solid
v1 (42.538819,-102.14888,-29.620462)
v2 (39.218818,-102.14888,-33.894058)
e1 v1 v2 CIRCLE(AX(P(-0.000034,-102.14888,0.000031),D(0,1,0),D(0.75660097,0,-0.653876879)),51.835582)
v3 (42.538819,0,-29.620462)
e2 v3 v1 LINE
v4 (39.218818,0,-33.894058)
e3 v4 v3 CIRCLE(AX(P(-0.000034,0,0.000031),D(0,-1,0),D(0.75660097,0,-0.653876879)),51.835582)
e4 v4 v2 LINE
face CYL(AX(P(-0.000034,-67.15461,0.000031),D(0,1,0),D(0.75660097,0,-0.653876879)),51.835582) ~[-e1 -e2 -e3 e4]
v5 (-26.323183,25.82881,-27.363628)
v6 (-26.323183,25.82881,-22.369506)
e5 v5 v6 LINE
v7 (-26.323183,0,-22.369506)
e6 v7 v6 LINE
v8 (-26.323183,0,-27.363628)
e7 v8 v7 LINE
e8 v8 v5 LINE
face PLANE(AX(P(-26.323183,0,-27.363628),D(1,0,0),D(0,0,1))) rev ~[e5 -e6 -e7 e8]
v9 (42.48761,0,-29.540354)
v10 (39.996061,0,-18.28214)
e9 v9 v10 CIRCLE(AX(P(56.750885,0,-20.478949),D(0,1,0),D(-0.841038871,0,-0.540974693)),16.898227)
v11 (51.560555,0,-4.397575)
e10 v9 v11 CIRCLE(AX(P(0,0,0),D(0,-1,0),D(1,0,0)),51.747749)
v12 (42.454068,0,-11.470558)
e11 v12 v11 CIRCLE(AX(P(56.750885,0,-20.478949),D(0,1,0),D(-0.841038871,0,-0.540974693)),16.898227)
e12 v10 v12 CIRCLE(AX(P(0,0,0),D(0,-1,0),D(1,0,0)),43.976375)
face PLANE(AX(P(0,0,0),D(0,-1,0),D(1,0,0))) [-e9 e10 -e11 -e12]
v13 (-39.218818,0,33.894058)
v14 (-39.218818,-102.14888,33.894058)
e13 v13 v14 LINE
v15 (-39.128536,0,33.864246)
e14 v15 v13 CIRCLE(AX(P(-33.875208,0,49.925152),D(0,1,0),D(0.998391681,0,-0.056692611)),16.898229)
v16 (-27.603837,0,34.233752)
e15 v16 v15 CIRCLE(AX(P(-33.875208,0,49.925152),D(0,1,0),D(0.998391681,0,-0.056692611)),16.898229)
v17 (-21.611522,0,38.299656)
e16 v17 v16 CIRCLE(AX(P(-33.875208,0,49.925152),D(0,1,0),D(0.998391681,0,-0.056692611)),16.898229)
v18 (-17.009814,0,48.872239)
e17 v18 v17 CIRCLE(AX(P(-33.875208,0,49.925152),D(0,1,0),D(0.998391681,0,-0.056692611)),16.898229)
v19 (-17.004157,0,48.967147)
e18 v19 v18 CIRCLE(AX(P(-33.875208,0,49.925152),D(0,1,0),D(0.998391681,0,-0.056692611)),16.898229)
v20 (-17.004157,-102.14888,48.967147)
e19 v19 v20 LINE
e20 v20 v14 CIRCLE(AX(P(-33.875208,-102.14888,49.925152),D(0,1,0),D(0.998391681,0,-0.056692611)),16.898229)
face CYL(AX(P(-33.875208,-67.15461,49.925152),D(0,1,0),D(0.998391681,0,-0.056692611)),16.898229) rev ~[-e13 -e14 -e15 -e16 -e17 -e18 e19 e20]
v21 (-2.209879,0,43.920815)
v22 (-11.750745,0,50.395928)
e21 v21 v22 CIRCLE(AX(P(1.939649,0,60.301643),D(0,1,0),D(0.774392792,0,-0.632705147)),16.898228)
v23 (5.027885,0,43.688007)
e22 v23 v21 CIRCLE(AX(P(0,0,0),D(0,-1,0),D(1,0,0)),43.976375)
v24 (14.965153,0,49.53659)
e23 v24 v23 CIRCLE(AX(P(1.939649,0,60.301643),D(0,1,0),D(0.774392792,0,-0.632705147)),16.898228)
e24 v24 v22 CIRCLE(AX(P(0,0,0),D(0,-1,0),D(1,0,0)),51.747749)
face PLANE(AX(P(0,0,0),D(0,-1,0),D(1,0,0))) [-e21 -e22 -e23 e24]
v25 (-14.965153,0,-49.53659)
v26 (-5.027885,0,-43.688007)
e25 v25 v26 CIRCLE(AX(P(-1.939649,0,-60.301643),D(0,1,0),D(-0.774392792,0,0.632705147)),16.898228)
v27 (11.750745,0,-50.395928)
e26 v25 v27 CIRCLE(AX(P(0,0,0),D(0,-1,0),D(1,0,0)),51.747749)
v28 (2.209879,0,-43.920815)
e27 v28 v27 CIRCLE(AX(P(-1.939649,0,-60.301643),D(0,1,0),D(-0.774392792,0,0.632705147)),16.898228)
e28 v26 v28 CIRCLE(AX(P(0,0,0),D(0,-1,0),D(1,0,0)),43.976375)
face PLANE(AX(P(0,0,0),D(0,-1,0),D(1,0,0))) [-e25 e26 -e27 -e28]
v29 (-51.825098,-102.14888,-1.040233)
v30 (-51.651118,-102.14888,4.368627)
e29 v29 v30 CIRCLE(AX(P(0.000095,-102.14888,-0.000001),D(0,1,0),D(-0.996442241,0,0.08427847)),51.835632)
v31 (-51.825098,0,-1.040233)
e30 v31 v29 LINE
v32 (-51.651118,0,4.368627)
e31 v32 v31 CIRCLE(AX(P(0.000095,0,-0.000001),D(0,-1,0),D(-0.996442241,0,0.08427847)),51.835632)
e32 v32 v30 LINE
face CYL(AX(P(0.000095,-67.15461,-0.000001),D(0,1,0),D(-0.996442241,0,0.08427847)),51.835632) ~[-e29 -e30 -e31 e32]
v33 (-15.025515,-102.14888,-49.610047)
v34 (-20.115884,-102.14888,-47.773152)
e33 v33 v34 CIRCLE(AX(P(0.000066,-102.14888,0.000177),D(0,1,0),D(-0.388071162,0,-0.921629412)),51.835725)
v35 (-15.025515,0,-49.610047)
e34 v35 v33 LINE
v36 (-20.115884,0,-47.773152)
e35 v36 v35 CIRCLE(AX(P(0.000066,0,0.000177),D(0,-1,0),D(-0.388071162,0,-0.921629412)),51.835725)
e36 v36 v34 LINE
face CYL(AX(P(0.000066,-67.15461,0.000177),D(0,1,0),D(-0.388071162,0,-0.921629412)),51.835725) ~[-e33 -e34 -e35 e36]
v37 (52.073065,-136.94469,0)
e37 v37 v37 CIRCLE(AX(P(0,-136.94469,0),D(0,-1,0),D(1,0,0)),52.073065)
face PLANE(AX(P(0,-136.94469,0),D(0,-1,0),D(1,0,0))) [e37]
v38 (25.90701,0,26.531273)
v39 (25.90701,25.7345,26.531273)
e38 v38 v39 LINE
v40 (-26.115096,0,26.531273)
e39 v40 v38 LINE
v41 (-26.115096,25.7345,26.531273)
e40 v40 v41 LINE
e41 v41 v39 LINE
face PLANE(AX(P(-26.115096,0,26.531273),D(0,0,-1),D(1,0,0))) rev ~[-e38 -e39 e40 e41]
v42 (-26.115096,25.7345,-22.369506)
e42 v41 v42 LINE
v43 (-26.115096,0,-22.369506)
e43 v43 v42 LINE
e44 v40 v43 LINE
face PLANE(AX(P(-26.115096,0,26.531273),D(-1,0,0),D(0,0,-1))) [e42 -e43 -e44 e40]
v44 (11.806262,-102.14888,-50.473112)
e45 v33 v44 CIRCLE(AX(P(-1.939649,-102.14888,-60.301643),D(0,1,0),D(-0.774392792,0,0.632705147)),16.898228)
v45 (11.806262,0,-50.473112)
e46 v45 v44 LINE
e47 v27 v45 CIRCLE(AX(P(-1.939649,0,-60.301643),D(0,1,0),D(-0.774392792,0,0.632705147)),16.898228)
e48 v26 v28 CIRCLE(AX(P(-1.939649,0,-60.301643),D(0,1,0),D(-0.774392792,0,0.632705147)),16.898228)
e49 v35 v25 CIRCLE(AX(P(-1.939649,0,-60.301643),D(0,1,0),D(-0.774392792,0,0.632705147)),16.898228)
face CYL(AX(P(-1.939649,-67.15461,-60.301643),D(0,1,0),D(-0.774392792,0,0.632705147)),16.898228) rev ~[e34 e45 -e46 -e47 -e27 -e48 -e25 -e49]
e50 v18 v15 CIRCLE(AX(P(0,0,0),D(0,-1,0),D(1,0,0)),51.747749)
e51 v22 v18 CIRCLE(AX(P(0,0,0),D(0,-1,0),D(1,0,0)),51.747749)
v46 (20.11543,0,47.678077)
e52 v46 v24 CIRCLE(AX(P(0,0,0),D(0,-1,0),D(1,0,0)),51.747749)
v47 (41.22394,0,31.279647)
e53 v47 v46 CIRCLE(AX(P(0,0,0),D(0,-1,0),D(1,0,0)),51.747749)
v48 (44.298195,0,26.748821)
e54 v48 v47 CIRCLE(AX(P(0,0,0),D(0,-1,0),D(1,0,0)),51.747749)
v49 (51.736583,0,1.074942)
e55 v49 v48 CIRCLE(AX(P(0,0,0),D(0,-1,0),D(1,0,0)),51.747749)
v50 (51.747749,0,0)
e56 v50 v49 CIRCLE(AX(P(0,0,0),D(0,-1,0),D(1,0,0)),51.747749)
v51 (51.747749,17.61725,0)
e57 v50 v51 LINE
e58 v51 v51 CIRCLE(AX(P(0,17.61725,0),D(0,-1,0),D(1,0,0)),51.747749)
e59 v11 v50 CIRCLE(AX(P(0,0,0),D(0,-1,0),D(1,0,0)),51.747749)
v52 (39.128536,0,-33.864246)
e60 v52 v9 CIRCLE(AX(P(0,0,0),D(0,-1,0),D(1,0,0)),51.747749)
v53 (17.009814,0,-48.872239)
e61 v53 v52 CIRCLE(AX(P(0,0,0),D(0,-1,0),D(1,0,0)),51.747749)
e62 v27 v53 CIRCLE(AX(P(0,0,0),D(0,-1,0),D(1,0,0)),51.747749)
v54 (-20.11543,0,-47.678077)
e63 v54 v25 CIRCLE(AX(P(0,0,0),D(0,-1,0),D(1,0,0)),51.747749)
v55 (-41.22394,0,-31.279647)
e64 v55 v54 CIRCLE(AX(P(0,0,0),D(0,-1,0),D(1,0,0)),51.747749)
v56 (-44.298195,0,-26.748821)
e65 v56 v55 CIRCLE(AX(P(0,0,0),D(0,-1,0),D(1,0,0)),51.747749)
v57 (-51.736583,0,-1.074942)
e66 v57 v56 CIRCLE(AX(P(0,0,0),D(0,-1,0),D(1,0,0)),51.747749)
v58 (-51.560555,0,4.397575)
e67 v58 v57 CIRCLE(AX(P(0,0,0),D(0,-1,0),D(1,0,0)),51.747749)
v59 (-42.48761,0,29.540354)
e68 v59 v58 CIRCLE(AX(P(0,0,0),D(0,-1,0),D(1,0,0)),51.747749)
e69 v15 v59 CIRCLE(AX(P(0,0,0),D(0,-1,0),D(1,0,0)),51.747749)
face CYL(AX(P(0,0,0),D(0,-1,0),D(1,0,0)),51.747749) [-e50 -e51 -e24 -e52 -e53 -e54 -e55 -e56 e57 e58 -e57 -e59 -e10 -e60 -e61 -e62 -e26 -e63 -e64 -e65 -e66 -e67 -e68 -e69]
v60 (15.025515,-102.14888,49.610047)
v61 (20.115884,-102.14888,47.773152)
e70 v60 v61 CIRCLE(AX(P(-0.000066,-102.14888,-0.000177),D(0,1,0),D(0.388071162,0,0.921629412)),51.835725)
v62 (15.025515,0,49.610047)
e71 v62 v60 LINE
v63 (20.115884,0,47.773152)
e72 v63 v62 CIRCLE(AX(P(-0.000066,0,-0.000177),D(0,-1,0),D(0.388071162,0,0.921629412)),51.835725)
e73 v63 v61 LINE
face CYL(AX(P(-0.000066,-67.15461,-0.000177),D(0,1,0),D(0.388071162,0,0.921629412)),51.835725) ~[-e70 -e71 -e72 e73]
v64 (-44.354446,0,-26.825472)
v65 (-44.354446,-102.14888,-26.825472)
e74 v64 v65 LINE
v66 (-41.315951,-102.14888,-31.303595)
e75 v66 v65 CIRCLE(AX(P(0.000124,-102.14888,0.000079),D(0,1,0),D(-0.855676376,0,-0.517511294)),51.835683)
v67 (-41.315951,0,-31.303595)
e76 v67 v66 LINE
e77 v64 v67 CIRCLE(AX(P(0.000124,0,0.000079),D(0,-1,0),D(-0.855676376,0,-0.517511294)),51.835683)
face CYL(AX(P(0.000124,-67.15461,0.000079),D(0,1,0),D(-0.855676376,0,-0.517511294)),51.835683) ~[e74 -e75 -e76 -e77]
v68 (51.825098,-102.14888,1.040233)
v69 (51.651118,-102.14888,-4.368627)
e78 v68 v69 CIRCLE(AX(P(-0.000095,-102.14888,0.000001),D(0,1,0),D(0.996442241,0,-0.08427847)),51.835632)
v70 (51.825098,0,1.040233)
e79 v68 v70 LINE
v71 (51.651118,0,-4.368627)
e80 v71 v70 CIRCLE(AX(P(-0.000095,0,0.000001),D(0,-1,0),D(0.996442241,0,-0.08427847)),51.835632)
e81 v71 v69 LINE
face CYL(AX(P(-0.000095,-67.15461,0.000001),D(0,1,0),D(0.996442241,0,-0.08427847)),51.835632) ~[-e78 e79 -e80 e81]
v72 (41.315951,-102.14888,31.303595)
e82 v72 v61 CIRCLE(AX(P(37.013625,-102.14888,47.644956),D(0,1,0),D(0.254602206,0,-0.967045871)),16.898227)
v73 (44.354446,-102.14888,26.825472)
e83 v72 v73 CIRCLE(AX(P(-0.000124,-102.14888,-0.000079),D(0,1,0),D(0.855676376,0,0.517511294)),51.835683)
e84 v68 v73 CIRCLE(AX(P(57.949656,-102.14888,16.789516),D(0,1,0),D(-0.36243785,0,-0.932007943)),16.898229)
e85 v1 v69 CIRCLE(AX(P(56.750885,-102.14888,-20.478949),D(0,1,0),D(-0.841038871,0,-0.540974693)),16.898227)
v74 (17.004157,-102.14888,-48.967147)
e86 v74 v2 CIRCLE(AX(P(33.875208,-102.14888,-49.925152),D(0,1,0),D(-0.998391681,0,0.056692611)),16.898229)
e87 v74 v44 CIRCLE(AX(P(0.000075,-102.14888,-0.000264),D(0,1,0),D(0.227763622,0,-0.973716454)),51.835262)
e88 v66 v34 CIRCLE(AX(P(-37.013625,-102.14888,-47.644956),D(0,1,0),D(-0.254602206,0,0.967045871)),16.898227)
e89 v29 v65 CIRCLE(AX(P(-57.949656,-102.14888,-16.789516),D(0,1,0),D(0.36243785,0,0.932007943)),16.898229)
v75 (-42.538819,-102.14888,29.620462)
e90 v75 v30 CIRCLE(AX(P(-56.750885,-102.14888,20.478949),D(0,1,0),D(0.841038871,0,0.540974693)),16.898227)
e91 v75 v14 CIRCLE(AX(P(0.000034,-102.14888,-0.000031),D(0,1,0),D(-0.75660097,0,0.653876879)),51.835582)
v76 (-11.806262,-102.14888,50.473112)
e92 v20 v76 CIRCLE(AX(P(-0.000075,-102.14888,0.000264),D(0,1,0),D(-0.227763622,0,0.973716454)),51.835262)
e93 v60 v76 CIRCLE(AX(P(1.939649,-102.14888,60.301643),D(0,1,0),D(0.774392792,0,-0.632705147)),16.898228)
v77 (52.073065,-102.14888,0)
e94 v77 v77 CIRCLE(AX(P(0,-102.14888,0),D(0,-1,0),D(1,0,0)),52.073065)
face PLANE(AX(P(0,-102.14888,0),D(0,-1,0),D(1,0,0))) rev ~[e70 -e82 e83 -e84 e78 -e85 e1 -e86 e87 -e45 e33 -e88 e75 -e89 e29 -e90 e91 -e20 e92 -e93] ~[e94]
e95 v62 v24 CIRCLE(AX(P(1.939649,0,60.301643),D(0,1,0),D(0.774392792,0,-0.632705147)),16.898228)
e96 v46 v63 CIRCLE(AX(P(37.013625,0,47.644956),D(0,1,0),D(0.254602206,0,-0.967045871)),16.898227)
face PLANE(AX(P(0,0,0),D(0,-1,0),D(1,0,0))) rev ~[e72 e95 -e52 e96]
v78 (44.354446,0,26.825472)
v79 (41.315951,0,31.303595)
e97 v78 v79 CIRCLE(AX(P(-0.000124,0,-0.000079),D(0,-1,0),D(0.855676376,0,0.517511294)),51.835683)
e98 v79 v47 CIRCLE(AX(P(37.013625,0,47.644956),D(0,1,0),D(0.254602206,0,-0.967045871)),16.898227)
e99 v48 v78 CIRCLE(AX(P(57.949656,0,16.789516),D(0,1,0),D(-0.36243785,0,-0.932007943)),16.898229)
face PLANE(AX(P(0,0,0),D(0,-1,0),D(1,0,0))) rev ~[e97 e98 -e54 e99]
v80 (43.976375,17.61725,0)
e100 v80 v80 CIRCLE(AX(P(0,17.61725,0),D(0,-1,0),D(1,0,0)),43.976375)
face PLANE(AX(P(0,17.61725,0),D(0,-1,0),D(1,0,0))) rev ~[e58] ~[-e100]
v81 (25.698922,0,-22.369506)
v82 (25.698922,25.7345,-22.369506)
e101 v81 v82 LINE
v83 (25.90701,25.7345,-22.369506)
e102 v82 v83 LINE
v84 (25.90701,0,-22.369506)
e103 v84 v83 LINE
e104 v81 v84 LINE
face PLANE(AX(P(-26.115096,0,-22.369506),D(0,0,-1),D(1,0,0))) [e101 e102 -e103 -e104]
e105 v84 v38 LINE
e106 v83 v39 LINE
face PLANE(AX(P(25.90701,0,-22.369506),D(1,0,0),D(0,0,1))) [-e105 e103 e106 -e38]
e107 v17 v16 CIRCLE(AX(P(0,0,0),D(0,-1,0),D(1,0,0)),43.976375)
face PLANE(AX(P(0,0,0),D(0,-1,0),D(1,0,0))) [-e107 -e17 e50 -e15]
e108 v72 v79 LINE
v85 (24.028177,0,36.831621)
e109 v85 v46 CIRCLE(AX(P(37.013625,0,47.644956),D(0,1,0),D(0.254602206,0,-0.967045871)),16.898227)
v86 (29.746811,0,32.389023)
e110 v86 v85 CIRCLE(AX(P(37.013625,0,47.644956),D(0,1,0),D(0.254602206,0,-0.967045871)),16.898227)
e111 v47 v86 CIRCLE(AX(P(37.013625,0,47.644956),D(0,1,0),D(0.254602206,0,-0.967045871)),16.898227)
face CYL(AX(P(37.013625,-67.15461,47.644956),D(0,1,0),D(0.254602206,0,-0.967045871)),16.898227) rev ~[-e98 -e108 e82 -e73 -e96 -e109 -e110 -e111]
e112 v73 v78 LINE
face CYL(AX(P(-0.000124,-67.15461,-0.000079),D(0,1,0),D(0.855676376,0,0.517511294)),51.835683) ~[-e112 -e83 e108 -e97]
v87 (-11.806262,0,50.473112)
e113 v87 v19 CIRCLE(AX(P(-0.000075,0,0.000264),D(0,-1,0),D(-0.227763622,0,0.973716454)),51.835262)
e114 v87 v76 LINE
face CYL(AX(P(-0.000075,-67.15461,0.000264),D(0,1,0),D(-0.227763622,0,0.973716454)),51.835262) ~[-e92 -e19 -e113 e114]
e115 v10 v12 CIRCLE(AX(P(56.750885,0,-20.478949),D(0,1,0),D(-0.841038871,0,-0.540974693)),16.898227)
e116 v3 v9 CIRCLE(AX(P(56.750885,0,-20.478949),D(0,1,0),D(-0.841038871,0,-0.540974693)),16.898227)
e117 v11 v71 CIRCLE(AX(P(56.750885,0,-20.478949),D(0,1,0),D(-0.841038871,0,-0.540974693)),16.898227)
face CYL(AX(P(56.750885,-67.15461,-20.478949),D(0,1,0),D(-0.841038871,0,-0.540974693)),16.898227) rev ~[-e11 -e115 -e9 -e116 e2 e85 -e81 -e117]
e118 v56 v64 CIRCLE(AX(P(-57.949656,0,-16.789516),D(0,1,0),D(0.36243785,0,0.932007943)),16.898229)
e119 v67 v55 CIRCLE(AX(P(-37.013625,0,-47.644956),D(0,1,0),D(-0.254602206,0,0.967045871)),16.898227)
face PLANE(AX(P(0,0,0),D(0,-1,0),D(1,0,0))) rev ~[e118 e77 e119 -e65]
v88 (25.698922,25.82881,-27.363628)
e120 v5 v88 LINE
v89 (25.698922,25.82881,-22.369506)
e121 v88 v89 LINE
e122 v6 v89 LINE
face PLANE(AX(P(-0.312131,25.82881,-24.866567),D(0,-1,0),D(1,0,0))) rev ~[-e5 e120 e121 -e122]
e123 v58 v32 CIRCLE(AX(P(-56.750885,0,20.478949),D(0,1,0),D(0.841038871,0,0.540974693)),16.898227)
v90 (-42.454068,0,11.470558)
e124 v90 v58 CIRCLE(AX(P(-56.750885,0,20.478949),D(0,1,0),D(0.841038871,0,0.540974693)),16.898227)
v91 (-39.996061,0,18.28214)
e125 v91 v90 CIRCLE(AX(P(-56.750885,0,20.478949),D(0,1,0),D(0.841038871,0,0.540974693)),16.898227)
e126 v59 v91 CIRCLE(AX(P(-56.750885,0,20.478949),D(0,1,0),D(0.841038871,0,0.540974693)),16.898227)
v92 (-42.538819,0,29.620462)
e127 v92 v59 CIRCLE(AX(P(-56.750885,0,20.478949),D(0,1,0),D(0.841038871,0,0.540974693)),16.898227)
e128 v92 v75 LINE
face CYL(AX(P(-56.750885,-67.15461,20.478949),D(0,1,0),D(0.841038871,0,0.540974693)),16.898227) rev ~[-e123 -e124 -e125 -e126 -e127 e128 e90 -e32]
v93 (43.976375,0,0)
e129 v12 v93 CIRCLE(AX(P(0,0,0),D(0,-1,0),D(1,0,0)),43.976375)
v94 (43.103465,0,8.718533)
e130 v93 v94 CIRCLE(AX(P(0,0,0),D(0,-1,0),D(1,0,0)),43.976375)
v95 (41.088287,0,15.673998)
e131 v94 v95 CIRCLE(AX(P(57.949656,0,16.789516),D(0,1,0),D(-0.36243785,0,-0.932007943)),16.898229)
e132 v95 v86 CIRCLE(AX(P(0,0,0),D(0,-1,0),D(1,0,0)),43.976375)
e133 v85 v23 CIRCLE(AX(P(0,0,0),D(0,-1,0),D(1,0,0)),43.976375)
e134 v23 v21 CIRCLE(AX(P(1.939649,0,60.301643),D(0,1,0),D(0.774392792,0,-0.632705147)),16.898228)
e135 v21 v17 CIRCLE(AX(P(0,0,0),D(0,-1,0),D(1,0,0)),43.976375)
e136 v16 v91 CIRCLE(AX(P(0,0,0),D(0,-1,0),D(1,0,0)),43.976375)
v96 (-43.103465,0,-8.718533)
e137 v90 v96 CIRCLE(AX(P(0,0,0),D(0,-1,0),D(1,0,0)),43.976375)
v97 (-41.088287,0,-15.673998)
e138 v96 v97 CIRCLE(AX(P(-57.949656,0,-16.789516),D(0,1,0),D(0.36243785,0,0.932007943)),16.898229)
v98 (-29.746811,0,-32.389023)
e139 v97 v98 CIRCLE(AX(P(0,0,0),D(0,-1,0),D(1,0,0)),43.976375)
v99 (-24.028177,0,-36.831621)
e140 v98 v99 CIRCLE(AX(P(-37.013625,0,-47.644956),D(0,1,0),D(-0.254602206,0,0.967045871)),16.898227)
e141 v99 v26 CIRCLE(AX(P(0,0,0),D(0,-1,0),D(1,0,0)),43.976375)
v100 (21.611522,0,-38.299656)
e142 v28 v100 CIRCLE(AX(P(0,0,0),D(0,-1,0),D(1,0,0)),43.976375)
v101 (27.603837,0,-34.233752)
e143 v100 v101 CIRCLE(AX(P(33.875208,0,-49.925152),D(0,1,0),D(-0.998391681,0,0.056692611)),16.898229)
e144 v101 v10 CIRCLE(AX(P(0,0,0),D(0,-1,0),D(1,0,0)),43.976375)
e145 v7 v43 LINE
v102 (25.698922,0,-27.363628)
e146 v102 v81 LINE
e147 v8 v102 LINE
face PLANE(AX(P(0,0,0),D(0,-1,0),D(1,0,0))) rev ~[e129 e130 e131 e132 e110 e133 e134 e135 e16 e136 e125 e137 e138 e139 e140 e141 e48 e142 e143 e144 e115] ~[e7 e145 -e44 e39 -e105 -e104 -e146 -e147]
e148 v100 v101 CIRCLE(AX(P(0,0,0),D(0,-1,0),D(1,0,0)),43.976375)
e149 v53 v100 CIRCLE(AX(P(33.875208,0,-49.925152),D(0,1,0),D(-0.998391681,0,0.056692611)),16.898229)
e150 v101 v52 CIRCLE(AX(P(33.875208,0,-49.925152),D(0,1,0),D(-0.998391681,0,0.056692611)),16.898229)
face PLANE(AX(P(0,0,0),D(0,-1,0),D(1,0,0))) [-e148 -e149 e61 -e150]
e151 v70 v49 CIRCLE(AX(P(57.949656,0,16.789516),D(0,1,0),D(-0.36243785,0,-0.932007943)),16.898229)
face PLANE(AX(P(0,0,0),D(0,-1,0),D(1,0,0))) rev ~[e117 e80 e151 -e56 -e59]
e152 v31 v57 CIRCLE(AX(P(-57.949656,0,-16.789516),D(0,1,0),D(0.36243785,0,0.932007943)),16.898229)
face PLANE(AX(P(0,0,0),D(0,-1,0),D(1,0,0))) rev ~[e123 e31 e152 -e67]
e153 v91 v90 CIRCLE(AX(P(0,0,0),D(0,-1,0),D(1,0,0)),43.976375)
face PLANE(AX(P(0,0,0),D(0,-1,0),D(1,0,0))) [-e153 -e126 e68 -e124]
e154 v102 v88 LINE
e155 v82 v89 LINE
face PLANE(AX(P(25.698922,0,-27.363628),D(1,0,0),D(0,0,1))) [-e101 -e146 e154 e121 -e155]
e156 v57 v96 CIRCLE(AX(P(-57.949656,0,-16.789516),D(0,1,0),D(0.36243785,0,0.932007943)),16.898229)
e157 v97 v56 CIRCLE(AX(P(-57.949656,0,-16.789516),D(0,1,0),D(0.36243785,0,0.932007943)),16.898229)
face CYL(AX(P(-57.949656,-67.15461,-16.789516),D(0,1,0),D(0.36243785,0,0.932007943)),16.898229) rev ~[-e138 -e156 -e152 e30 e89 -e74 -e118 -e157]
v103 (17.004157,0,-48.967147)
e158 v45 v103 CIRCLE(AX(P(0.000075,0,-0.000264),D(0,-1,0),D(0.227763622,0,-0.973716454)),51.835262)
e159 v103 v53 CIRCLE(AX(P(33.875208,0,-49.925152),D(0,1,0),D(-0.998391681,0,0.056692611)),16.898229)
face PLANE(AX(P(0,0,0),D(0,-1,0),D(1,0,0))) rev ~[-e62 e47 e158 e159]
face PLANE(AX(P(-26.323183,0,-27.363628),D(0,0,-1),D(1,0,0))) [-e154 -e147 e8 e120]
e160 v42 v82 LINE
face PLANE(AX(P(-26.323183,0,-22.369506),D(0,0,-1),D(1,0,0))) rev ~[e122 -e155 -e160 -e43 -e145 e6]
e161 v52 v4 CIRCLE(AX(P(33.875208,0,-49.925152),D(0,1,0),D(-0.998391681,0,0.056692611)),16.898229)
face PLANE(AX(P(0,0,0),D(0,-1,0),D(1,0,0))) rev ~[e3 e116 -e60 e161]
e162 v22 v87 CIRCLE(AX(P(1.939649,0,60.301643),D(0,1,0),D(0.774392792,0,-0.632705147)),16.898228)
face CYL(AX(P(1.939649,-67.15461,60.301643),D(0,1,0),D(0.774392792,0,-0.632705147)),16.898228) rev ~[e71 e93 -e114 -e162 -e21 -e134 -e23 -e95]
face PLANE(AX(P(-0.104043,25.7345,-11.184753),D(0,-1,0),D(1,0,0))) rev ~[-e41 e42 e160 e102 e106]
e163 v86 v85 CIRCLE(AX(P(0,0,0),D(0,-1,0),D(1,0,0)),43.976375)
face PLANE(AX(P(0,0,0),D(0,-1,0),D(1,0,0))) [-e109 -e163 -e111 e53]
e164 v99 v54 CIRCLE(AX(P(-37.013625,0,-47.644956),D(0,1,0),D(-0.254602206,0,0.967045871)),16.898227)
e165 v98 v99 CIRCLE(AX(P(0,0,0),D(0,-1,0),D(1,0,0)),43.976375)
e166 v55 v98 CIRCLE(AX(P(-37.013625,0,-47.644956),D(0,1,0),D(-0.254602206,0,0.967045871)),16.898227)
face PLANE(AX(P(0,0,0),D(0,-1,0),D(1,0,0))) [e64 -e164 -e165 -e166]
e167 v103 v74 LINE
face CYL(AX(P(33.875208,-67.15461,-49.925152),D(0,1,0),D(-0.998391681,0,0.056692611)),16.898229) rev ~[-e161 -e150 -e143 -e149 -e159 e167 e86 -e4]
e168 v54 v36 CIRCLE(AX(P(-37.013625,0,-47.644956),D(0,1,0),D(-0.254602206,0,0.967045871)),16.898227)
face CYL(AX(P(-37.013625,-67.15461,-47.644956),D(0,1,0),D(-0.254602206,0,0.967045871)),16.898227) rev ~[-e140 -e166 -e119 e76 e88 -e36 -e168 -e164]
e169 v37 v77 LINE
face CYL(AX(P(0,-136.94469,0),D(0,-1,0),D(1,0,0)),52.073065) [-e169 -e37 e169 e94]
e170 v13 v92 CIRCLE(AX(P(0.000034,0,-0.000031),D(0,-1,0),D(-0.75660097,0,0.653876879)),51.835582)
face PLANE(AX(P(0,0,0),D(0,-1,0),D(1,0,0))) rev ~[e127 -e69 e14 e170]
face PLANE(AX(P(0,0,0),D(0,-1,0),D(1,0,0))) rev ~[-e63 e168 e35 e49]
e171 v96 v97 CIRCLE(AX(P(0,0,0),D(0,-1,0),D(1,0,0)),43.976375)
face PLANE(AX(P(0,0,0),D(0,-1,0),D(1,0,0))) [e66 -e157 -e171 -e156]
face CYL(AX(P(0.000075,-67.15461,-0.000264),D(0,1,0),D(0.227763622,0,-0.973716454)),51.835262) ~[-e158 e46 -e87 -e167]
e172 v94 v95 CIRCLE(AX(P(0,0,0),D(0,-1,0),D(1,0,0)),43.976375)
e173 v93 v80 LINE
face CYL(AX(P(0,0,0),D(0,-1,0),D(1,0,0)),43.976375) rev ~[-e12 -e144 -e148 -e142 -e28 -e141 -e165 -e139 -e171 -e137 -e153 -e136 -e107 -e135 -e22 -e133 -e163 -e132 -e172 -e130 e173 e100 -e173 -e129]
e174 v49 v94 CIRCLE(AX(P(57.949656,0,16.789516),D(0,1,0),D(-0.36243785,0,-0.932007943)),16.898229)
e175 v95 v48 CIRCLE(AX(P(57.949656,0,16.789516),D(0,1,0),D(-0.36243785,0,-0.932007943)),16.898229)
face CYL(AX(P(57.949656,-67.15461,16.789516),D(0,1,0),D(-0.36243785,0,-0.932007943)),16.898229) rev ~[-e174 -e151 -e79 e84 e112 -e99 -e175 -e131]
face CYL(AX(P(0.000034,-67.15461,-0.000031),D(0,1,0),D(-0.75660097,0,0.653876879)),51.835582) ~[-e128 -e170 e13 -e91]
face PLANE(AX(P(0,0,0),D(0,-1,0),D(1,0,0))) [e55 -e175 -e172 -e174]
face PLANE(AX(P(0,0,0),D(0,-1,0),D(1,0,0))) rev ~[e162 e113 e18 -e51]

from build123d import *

# Parameters (mm, degrees)
F1_DEPTH  = 67.15461
F2_DEPTH  = 69.79008
F3_R      = 51.747749
F3_R_2    = 43.976375
F4_DEPTH  = 17.61725
F5_W      = 52.022107
F5_H      = 22.369506
F5_H_2    = 19.664356
F5_H_3    = 6.866917
F6_DEPTH  = 25.7345
F7_W      = 52.022105
F7_H      = 4.994122
F8_DEPTH  = 25.82881
F9_R      = 52.073065
F10_DEPTH = 34.79581


with BuildPart() as f1:
    # F0 (on Front) → F1 (new body)
    with BuildSketch(Plane.XZ):
        with BuildLine():
            ThreePointArc((15.025515, 49.610047), (1.396386, 43.41215), (-11.806262, 50.473112))
            ThreePointArc((-11.806262, 50.473112), (-14.424876, 49.788009), (-17.004157, 48.967147))
            ThreePointArc((-17.004157, 48.967147), (-24.387322, 35.941942), (-39.218818, 33.894058))
            ThreePointArc((-39.218818, 33.894058), (-40.934627, 31.800616), (-42.538819, 29.620462))
            ThreePointArc((-42.538819, 29.620462), (-40.855901, 14.743134), (-51.651118, 4.368627))
            ThreePointArc((-51.651118, 4.368627), (-51.808742, 1.666469), (-51.825098, -1.040233))
            ThreePointArc((-51.825098, -1.040233), (-41.718915, -12.08705), (-44.354446, -26.825472))
            ThreePointArc((-44.354446, -26.825472), (-42.893678, -29.104213), (-41.315951, -31.303595))
            ThreePointArc((-41.315951, -31.303595), (-26.646721, -34.300392), (-20.115884, -47.773152))
            ThreePointArc((-20.115884, -47.773152), (-17.594688, -48.758074), (-15.025515, -49.610047))
            ThreePointArc((-15.025515, -49.610047), (-1.396386, -43.41215), (11.806262, -50.473112))
            ThreePointArc((11.806262, -50.473112), (14.424876, -49.788009), (17.004157, -48.967147))
            ThreePointArc((17.004157, -48.967147), (24.387322, -35.941942), (39.218818, -33.894058))
            ThreePointArc((39.218818, -33.894058), (40.934627, -31.800616), (42.538819, -29.620462))
            ThreePointArc((42.538819, -29.620462), (40.855901, -14.743134), (51.651118, -4.368627))
            ThreePointArc((51.651118, -4.368627), (51.808742, -1.666469), (51.825098, 1.040233))
            ThreePointArc((51.825098, 1.040233), (41.718915, 12.08705), (44.354446, 26.825472))
            ThreePointArc((44.354446, 26.825472), (42.893678, 29.104213), (41.315951, 31.303595))
            ThreePointArc((41.315951, 31.303595), (26.646721, 34.300392), (20.115884, 47.773152))
            ThreePointArc((20.115884, 47.773152), (17.594688, 48.758074), (15.025515, 49.610047))
        make_face()
    extrude(amount=F1_DEPTH)

    # F1_face (on face) → F2 (join)
    with BuildSketch(Plane.XZ.offset(67.15461)):
        with BuildLine():
            ThreePointArc((41.315951, 31.303595), (26.646721, 34.300392), (20.115884, 47.773152))
            ThreePointArc((20.115884, 47.773152), (17.594688, 48.758074), (15.025515, 49.610047))
            ThreePointArc((15.025515, 49.610047), (1.396386, 43.41215), (-11.806262, 50.473112))
            ThreePointArc((-11.806262, 50.473112), (-14.424876, 49.788009), (-17.004157, 48.967147))
            ThreePointArc((-17.004157, 48.967147), (-24.387322, 35.941942), (-39.218818, 33.894058))
            ThreePointArc((-39.218818, 33.894058), (-40.934627, 31.800616), (-42.538819, 29.620462))
            ThreePointArc((-42.538819, 29.620462), (-40.855901, 14.743134), (-51.651118, 4.368627))
            ThreePointArc((-51.651118, 4.368627), (-51.808742, 1.666469), (-51.825098, -1.040233))
            ThreePointArc((-51.825098, -1.040233), (-41.718915, -12.08705), (-44.354446, -26.825472))
            ThreePointArc((-44.354446, -26.825472), (-42.893678, -29.104213), (-41.315951, -31.303595))
            ThreePointArc((-41.315951, -31.303595), (-26.646721, -34.300392), (-20.115884, -47.773152))
            ThreePointArc((-20.115884, -47.773152), (-17.594688, -48.758074), (-15.025515, -49.610047))
            ThreePointArc((-15.025515, -49.610047), (-1.396386, -43.41215), (11.806262, -50.473112))
            ThreePointArc((11.806262, -50.473112), (14.424876, -49.788009), (17.004157, -48.967147))
            ThreePointArc((17.004157, -48.967147), (24.387322, -35.941942), (39.218818, -33.894058))
            ThreePointArc((39.218818, -33.894058), (40.934627, -31.800616), (42.538819, -29.620462))
            ThreePointArc((42.538819, -29.620462), (40.855901, -14.743134), (51.651118, -4.368627))
            ThreePointArc((51.651118, -4.368627), (51.808742, -1.666469), (51.825098, 1.040233))
            ThreePointArc((51.825098, 1.040233), (41.718915, 12.08705), (44.354446, 26.825472))
            ThreePointArc((44.354446, 26.825472), (42.893678, 29.104213), (41.315951, 31.303595))
        make_face()
        with BuildLine():
            ThreePointArc((20.115884, 47.773152), (26.646721, 34.300392), (41.315951, 31.303595))
            ThreePointArc((41.315951, 31.303595), (42.893678, 29.104213), (44.354446, 26.825472))
            ThreePointArc((44.354446, 26.825472), (41.718915, 12.08705), (51.825098, 1.040233))
            ThreePointArc((51.825098, 1.040233), (51.808742, -1.666469), (51.651118, -4.368627))
            ThreePointArc((51.651118, -4.368627), (40.855901, -14.743134), (42.538819, -29.620462))
            ThreePointArc((42.538819, -29.620462), (40.934627, -31.800616), (39.218818, -33.894058))
            ThreePointArc((39.218818, -33.894058), (24.387322, -35.941942), (17.004157, -48.967147))
            ThreePointArc((17.004157, -48.967147), (14.424876, -49.788009), (11.806262, -50.473112))
            ThreePointArc((11.806262, -50.473112), (-1.396386, -43.41215), (-15.025515, -49.610047))
            ThreePointArc((-15.025515, -49.610047), (-17.594688, -48.758074), (-20.115884, -47.773152))
            ThreePointArc((-20.115884, -47.773152), (-26.646721, -34.300392), (-41.315951, -31.303595))
            ThreePointArc((-41.315951, -31.303595), (-42.893678, -29.104213), (-44.354446, -26.825472))
            ThreePointArc((-44.354446, -26.825472), (-41.718915, -12.08705), (-51.825098, -1.040233))
            ThreePointArc((-51.825098, -1.040233), (-51.808742, 1.666469), (-51.651118, 4.368627))
            ThreePointArc((-51.651118, 4.368627), (-40.855901, 14.743134), (-42.538819, 29.620462))
            ThreePointArc((-42.538819, 29.620462), (-40.934627, 31.800616), (-39.218818, 33.894058))
            ThreePointArc((-39.218818, 33.894058), (-24.387322, 35.941942), (-17.004157, 48.967147))
            ThreePointArc((-17.004157, 48.967147), (-14.424876, 49.788009), (-11.806262, 50.473112))
            ThreePointArc((-11.806262, 50.473112), (1.396386, 43.41215), (15.025515, 49.610047))
            ThreePointArc((15.025515, 49.610047), (17.594688, 48.758074), (20.115884, 47.773152))
        make_face()
    extrude(amount=F2_DEPTH)

    # F3 (on Front) → F4 (join)
    with BuildSketch(Plane.XZ):
        Circle(F3_R)
        Circle(F3_R_2, mode=Mode.SUBTRACT)
    extrude(amount=-F4_DEPTH)

    # F5 (on Front) → F6 (join)
    with BuildSketch(Plane.XZ):
        with Locations((-0.104043, -11.184753)):
            Rectangle(F5_W, F5_H)
        with Locations((-0.104043, 9.832178)):
            Rectangle(F5_W, F5_H_2)
        with Locations((-0.104043, 23.097814)):
            Rectangle(F5_W, F5_H_3)
    extrude(amount=-F6_DEPTH)

    # F7 (on Front) → F8 (join)
    with BuildSketch(Plane.XZ):
        with Locations((-0.312131, -24.866567)):
            Rectangle(F7_W, F7_H)
    extrude(amount=-F8_DEPTH)

    # F9 (on face) → F10 (join)
    with BuildSketch(Plane.XZ.offset(136.94469)):
        Circle(F9_R)
    extrude(amount=-F10_DEPTH)


solid = f1.part
